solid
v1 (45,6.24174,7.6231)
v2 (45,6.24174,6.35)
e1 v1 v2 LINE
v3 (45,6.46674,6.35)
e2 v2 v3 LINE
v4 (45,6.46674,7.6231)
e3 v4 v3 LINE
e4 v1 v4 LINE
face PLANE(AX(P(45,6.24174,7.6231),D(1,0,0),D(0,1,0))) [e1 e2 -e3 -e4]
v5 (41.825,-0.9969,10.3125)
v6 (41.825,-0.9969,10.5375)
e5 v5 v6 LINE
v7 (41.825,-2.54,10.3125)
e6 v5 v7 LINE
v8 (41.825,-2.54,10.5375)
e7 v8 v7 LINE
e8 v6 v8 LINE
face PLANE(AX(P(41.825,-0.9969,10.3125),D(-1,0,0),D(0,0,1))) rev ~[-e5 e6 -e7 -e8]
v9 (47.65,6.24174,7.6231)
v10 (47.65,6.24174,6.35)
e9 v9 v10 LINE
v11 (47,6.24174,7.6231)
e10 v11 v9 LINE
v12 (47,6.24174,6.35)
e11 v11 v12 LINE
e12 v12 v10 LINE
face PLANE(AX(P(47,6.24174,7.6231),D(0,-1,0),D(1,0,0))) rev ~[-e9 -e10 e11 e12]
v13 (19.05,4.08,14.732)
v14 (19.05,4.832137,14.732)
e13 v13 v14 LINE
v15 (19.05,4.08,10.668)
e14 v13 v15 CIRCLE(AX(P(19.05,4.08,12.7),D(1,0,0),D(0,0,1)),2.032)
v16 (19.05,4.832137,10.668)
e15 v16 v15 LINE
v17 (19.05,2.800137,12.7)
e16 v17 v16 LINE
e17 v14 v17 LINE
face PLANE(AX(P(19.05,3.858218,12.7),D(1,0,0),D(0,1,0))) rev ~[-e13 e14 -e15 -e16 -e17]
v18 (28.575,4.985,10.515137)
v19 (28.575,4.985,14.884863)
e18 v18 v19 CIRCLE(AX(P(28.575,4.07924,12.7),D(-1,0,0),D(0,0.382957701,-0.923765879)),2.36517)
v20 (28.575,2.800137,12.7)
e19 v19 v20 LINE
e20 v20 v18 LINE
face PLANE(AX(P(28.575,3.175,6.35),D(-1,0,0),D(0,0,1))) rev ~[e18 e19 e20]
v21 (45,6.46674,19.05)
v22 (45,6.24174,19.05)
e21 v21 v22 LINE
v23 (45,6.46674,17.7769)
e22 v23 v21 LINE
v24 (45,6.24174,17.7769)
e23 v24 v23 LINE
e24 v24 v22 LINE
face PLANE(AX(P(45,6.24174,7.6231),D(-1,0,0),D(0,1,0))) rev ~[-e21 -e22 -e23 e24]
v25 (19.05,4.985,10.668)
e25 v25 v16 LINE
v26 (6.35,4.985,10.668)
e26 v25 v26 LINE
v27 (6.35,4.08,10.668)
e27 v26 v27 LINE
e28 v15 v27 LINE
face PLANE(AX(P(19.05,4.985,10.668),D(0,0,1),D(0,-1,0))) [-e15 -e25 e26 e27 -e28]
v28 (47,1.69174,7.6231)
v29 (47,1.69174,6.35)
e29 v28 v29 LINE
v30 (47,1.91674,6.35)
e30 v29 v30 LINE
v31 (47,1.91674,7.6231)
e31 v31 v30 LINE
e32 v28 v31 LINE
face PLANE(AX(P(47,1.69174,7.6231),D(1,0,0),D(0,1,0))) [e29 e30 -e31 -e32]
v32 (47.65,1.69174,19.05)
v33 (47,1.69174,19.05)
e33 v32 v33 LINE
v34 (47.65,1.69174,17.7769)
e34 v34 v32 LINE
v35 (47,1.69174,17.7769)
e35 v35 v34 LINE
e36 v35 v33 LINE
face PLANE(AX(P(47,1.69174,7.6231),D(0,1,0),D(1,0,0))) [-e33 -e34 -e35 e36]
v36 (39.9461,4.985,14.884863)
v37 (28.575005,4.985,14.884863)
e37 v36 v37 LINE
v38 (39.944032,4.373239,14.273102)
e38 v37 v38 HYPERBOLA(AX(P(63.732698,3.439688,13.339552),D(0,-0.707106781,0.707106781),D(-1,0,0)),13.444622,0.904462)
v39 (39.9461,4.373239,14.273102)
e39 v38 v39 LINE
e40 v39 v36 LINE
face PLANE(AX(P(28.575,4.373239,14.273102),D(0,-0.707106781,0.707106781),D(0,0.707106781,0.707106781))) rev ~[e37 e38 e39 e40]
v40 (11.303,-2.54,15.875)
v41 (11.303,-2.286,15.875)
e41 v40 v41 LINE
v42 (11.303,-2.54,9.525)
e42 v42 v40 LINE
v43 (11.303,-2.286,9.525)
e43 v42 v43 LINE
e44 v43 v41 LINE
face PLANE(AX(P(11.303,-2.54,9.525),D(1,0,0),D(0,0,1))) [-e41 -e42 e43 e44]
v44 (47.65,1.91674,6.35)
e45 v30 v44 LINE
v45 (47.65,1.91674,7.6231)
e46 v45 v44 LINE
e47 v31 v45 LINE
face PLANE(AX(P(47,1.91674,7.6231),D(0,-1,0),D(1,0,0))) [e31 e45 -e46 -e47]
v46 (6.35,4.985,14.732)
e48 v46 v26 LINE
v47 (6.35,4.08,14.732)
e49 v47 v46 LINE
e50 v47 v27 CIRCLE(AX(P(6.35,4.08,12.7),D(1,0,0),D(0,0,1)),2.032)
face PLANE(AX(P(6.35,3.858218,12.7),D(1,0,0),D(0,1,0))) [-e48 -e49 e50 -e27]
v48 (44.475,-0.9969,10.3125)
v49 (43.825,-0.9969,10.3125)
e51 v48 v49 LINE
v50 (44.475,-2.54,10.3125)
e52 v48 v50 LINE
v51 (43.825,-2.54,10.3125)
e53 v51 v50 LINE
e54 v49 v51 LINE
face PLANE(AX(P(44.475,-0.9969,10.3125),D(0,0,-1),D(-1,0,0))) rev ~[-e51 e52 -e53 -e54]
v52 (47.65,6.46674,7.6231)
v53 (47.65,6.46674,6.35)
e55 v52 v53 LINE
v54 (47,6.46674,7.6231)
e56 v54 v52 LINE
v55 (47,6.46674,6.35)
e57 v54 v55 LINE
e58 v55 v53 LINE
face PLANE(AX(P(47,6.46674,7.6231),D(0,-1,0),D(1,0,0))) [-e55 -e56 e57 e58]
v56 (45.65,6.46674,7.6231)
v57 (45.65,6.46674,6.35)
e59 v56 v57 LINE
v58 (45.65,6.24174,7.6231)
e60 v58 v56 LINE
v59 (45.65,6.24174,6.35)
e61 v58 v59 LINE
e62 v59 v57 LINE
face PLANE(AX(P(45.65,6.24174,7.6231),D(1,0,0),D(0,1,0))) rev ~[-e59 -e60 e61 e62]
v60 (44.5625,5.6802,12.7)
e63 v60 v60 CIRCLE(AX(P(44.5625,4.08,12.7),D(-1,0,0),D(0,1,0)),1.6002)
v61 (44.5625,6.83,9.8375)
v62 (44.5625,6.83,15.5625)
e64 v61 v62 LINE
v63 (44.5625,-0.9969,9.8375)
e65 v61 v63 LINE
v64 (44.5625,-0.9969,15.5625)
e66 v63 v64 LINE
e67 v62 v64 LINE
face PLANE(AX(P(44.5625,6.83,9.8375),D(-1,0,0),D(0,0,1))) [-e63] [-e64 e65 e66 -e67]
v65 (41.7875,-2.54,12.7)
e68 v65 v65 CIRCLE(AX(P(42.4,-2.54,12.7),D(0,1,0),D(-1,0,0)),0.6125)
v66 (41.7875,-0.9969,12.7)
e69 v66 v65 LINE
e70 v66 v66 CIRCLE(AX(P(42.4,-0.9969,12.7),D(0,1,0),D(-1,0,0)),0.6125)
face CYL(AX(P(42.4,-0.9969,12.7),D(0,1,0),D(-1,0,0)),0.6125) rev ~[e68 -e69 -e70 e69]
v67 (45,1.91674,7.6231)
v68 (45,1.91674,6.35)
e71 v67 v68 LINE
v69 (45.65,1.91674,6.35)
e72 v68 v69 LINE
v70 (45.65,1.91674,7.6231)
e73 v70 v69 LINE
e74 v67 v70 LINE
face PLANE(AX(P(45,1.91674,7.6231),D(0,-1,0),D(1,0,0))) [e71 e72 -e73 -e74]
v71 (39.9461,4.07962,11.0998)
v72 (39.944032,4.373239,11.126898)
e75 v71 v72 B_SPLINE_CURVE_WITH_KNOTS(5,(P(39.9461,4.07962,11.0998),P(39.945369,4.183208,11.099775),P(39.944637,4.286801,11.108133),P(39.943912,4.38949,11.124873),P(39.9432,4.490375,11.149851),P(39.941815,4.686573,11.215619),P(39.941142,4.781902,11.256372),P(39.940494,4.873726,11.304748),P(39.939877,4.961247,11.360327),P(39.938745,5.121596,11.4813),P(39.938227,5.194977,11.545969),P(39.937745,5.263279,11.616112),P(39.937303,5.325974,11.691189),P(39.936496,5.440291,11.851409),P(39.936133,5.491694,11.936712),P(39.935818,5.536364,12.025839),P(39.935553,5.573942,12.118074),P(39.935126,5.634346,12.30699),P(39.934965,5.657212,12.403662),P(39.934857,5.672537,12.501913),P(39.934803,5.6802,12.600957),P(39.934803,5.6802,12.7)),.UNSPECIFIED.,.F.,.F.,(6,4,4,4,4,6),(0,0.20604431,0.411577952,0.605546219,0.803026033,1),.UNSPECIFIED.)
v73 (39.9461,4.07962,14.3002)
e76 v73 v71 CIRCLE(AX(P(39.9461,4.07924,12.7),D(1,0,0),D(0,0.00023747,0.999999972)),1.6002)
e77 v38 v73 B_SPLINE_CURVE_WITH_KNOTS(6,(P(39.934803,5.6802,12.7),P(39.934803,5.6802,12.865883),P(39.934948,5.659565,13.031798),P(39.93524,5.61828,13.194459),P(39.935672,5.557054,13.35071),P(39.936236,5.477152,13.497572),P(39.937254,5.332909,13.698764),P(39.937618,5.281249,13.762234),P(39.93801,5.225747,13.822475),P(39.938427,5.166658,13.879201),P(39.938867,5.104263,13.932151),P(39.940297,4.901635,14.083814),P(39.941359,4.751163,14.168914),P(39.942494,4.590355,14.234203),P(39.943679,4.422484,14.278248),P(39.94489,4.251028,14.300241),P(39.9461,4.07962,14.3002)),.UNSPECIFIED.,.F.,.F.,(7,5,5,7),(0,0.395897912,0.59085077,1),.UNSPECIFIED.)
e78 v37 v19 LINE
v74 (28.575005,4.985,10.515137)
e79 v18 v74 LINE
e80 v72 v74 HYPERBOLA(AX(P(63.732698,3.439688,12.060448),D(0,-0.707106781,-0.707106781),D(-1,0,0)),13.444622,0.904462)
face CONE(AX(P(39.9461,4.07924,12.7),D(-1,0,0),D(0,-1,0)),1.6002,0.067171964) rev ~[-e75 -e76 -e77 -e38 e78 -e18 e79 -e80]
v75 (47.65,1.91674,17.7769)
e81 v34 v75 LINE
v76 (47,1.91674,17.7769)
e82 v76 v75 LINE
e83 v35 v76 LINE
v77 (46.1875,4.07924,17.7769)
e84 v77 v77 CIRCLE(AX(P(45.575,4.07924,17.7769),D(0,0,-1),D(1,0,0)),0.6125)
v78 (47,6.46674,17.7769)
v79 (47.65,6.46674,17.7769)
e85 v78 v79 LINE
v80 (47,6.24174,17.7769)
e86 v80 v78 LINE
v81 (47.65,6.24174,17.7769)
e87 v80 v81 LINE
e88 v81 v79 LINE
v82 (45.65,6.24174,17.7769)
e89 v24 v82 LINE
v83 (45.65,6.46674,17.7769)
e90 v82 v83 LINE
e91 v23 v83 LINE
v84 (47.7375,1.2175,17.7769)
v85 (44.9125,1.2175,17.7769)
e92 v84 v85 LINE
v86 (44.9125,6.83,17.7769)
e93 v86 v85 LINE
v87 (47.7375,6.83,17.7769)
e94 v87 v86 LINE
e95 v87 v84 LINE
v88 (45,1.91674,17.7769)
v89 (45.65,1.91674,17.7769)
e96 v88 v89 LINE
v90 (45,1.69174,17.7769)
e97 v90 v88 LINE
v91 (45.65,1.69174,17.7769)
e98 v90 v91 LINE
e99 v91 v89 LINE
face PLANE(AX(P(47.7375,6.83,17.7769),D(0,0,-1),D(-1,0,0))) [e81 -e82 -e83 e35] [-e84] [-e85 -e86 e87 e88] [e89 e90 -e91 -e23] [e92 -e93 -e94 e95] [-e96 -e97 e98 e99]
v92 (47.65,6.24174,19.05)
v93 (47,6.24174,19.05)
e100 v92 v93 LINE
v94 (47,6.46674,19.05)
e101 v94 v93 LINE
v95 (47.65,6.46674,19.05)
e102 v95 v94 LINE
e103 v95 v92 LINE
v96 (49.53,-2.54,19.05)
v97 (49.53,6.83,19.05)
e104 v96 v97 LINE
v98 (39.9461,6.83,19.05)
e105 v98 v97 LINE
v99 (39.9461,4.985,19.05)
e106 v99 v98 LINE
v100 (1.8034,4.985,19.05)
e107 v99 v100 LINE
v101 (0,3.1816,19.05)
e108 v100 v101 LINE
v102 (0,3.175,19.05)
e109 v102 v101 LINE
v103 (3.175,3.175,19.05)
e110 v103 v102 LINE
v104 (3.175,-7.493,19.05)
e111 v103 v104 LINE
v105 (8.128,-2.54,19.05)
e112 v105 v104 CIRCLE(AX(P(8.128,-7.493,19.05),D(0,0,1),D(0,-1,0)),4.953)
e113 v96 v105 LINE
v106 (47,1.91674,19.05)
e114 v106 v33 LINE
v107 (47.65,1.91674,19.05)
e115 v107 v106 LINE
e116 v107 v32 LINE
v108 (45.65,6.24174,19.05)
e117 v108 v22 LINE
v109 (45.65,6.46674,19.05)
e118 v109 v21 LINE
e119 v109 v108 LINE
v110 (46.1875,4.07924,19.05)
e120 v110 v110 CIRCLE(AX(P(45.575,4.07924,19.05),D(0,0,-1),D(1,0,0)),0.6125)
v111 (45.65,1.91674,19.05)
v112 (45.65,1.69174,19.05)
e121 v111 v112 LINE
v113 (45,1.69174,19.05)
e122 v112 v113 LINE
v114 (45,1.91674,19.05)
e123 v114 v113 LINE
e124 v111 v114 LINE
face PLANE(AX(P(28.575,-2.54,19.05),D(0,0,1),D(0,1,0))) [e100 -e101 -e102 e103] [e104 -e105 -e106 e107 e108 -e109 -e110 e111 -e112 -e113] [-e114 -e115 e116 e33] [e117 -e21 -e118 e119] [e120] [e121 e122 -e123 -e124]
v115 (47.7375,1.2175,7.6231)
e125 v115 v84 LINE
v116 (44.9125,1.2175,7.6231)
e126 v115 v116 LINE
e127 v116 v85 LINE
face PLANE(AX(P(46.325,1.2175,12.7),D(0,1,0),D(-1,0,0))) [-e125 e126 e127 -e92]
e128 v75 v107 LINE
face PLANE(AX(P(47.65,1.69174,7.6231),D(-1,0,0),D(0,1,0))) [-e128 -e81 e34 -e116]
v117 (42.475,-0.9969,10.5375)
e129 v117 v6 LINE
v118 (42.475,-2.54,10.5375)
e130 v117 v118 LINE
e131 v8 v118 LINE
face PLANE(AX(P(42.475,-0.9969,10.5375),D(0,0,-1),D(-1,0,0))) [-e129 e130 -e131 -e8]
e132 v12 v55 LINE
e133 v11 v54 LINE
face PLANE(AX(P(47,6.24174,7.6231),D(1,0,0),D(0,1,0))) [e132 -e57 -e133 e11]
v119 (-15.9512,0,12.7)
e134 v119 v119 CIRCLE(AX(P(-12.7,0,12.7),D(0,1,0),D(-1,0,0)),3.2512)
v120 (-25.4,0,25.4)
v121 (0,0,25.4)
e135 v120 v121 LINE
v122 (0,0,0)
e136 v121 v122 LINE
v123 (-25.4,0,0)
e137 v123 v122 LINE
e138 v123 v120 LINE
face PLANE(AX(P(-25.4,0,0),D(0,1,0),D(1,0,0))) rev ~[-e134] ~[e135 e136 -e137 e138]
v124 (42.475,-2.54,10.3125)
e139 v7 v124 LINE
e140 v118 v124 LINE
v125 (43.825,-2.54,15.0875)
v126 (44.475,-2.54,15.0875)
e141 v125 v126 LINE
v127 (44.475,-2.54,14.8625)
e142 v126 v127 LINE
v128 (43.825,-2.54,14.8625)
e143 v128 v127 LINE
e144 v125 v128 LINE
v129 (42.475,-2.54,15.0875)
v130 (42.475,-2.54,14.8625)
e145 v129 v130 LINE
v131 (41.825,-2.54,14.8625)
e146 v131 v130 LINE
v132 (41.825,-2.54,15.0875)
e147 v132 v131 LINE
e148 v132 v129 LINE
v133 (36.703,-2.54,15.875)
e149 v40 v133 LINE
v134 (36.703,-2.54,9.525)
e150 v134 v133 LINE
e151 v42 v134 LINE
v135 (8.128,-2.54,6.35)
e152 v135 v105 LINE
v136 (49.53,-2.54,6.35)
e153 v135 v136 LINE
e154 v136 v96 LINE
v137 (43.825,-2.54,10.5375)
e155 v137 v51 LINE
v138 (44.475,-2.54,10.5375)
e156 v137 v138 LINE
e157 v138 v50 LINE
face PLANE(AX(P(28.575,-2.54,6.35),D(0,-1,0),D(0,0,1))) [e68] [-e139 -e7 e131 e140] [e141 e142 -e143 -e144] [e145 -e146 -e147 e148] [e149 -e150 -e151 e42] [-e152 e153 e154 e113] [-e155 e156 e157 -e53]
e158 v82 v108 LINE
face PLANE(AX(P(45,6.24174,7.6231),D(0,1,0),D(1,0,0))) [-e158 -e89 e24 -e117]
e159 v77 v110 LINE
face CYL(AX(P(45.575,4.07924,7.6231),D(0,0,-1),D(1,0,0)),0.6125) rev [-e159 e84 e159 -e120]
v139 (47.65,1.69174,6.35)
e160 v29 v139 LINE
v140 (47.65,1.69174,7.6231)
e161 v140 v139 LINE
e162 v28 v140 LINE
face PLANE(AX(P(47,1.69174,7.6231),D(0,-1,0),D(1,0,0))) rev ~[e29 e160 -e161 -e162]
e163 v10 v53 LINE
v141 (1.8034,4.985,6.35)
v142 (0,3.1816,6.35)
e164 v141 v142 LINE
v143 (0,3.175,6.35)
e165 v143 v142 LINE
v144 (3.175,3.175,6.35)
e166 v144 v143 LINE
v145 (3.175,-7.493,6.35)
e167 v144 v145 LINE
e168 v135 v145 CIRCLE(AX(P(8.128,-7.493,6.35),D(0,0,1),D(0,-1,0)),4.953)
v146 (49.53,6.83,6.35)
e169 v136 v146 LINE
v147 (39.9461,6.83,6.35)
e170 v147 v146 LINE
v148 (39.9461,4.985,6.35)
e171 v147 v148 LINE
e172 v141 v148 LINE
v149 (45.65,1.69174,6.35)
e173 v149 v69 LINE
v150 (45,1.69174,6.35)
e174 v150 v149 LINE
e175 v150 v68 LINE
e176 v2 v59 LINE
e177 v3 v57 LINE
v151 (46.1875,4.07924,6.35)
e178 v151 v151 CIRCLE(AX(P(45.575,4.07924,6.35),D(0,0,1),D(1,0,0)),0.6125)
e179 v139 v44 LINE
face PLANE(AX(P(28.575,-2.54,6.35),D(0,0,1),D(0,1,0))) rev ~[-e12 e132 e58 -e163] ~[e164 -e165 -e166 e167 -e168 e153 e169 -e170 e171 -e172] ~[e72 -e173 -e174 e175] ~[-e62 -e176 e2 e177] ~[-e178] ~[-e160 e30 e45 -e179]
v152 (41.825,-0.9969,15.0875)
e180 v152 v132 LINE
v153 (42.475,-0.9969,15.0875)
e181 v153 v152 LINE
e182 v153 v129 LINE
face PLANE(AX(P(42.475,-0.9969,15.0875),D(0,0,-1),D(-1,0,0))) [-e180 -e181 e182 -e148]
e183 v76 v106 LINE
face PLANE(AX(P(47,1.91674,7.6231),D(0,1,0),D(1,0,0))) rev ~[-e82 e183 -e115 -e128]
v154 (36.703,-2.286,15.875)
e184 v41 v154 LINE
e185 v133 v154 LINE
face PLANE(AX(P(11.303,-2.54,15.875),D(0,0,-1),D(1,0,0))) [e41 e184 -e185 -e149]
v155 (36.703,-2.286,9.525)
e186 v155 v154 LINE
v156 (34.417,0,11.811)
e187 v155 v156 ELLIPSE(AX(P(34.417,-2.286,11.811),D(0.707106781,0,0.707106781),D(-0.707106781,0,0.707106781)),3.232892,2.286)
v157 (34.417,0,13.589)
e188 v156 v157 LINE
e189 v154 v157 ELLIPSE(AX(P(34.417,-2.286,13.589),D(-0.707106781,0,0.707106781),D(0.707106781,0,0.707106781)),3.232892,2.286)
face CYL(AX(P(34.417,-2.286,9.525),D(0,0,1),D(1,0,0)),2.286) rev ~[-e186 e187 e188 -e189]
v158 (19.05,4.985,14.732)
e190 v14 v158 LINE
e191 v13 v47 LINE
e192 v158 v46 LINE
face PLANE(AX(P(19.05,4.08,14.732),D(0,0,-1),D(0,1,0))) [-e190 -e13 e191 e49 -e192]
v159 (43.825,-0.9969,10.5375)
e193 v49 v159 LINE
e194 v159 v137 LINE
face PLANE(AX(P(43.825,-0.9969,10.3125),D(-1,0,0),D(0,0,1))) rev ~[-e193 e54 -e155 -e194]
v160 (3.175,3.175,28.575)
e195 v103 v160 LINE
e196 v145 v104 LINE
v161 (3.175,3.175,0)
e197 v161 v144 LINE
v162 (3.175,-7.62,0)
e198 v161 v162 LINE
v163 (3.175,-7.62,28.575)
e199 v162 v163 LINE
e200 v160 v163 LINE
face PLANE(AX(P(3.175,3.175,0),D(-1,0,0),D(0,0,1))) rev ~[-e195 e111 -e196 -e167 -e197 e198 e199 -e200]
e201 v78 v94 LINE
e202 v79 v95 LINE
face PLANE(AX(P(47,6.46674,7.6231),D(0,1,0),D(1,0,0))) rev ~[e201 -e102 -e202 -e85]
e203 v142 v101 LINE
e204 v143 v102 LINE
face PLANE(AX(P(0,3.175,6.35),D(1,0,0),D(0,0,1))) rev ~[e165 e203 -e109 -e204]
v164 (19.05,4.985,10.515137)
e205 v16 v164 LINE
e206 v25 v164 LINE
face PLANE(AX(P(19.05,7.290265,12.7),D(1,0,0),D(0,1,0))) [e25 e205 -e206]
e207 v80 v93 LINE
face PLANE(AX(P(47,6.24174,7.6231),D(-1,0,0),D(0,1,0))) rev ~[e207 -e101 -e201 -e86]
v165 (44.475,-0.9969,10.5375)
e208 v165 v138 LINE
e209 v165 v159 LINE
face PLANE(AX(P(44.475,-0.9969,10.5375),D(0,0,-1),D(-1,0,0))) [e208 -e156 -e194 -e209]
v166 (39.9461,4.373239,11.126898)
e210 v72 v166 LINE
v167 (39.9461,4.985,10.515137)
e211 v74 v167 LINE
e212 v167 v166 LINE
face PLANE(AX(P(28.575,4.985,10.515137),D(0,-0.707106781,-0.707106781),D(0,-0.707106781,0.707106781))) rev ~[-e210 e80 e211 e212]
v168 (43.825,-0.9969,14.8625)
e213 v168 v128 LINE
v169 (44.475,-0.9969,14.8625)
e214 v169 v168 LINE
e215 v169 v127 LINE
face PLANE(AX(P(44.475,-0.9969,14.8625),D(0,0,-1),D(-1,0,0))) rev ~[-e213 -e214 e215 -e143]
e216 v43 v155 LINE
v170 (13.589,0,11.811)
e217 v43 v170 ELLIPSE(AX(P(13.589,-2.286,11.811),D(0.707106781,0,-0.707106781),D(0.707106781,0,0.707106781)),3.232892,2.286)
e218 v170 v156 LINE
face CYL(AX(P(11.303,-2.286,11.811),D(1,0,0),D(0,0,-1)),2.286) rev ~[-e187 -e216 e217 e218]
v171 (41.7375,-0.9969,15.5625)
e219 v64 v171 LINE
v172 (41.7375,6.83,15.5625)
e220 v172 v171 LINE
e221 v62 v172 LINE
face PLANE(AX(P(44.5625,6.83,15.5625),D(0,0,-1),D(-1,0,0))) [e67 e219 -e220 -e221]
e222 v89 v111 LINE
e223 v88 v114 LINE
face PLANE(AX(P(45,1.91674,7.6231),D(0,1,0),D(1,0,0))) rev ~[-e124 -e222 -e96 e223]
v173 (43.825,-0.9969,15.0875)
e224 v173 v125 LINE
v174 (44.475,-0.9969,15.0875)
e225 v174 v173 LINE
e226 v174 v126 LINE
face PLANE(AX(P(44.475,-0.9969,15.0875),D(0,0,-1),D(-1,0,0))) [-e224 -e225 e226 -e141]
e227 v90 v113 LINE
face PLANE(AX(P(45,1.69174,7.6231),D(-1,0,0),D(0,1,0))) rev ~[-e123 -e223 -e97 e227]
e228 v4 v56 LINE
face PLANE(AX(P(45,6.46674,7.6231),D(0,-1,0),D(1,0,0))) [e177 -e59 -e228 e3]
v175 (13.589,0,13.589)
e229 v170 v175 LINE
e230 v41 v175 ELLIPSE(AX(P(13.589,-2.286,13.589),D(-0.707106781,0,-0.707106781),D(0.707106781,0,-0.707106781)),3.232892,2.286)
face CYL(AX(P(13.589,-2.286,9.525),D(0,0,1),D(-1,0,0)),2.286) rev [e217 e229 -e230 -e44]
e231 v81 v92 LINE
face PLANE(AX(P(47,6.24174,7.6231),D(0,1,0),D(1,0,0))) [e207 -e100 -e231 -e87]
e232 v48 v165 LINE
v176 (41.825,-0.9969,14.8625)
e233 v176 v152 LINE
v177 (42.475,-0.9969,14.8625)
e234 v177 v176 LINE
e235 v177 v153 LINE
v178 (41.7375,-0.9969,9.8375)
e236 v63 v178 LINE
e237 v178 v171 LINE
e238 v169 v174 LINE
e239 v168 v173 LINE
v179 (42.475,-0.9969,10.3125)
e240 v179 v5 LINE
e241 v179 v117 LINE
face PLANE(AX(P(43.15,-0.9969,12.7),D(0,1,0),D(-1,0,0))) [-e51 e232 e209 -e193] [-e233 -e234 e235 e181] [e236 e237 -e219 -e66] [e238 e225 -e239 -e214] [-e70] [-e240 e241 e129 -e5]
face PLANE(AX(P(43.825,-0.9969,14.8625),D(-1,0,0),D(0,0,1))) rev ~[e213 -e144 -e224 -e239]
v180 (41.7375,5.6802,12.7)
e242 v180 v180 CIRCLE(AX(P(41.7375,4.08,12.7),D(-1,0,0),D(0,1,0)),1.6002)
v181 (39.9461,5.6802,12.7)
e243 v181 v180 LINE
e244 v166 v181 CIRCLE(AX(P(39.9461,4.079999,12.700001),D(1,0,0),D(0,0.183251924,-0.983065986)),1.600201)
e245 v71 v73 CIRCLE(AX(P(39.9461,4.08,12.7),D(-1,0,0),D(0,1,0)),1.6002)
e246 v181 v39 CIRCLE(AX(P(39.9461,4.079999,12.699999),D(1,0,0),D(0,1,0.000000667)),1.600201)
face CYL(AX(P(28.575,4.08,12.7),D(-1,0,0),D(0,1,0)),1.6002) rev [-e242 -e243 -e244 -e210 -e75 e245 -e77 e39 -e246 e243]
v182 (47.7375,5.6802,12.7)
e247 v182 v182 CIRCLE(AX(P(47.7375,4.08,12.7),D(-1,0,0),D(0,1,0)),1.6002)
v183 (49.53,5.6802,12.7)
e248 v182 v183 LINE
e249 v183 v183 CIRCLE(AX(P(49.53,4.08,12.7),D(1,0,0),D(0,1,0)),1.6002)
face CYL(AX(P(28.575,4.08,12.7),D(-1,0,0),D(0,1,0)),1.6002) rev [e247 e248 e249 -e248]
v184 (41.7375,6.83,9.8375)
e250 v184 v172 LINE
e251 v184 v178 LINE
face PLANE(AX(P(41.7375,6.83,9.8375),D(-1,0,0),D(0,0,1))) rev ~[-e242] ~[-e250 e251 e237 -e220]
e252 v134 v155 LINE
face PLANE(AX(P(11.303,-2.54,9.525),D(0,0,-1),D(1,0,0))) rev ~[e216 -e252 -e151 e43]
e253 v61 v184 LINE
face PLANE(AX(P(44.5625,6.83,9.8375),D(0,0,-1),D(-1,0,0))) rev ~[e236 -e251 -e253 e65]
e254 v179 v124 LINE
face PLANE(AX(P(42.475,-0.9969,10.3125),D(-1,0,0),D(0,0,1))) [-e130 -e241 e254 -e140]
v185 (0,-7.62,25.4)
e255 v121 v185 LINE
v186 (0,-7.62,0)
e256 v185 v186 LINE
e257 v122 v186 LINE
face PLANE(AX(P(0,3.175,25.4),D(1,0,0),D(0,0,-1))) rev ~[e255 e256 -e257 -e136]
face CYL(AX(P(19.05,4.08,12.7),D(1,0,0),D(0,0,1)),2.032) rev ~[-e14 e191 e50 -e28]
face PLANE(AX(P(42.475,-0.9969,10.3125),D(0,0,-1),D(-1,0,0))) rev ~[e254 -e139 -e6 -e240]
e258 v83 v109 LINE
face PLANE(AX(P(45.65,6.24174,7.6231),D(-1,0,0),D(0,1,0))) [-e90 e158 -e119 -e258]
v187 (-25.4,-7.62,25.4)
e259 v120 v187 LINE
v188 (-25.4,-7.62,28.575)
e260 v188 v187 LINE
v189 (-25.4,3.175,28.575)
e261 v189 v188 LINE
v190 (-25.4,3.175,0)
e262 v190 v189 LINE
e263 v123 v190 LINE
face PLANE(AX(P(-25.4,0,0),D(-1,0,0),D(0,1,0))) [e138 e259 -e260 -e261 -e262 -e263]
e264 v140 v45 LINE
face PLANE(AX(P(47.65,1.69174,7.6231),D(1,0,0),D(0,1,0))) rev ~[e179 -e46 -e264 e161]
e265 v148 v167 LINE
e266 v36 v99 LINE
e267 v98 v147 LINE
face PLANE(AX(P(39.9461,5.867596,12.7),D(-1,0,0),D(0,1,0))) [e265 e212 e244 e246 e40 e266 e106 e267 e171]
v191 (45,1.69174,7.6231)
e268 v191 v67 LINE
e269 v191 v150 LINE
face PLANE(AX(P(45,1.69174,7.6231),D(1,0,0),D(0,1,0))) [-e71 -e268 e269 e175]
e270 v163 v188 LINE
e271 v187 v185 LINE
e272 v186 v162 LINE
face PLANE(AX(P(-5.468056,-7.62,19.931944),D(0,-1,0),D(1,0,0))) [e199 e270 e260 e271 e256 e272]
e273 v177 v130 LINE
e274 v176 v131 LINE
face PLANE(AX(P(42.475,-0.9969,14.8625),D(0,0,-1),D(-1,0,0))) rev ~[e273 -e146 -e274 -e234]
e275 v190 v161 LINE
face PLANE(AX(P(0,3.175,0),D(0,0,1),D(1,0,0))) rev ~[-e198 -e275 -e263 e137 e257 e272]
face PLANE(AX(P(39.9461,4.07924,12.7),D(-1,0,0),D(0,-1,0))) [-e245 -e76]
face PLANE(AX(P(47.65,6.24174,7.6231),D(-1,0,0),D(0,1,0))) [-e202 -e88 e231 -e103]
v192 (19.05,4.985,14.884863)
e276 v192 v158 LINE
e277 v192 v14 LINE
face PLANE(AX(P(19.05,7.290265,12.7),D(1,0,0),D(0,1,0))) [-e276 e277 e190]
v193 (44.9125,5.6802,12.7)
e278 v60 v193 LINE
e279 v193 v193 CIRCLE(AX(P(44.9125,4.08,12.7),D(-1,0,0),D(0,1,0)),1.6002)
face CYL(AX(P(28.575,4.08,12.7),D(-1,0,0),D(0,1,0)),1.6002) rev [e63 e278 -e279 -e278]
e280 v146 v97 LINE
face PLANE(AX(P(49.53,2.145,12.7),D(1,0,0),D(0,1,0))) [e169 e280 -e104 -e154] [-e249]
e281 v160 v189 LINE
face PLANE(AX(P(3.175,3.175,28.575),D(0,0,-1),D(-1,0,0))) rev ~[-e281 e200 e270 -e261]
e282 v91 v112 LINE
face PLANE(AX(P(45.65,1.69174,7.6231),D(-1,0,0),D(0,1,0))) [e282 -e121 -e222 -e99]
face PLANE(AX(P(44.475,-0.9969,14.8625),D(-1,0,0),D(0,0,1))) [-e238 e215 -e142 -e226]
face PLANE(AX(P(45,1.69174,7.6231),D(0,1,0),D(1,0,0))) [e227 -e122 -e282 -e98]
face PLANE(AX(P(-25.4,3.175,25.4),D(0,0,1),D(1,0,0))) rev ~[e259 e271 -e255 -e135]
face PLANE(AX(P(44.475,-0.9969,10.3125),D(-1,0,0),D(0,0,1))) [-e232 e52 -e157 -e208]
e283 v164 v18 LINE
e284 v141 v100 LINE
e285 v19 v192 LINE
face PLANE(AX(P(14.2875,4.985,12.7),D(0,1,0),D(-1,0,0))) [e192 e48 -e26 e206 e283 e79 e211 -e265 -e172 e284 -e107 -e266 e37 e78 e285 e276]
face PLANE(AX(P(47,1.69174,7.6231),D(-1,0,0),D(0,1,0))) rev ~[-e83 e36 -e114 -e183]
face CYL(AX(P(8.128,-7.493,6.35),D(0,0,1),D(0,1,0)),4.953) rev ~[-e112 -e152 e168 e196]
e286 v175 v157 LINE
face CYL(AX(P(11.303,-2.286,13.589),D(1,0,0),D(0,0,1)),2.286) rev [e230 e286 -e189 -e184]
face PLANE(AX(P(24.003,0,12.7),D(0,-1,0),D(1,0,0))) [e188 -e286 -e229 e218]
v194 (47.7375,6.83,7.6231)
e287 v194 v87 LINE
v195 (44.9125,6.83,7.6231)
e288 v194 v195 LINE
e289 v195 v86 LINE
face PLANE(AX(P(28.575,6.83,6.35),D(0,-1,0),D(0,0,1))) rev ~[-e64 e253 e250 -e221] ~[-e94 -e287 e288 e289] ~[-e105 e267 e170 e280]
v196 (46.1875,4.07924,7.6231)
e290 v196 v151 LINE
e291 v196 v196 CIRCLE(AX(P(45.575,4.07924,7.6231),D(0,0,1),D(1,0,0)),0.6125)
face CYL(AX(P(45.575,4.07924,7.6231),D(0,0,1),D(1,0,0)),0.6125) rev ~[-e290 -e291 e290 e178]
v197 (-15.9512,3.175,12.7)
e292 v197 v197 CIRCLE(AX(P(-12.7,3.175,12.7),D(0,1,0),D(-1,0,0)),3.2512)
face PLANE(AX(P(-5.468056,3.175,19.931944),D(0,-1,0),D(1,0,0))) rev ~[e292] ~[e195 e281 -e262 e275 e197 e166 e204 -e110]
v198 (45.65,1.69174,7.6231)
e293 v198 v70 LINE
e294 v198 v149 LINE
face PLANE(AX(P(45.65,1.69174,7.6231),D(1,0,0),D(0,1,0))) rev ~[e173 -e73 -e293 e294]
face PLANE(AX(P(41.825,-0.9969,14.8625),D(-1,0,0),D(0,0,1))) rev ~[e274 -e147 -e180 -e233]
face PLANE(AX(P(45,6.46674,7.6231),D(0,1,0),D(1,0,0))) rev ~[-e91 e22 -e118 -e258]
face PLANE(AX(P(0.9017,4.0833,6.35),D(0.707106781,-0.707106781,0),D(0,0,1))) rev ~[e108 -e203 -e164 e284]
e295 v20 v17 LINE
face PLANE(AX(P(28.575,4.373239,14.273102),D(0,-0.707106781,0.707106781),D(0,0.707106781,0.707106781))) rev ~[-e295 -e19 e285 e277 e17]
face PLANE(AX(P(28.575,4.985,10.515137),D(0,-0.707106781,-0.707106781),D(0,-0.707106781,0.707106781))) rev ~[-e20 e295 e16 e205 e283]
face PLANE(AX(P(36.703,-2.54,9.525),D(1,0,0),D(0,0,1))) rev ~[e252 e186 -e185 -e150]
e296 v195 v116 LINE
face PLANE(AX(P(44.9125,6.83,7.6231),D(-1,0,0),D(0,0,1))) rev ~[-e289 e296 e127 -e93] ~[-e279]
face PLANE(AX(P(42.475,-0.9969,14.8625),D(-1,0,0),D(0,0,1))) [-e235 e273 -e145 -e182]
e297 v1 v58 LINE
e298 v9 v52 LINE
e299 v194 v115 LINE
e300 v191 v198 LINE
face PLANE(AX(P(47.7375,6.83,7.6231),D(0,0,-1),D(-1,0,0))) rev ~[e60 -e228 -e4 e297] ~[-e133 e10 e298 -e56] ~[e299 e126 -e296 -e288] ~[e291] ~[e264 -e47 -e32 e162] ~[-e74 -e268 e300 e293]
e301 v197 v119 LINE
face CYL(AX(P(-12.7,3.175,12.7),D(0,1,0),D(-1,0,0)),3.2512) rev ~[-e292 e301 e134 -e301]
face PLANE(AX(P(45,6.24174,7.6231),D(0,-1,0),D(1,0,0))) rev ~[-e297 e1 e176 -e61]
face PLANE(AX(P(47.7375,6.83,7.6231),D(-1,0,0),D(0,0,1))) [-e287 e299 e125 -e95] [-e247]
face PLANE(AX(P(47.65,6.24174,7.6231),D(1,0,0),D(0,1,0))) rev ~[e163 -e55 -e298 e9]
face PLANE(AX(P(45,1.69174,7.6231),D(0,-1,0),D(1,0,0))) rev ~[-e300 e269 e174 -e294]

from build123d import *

# Parameters (mm, degrees)
SKETCH_W             = 25.4
SKETCH_H             = 3.175
PAD_DEPTH            = 25.4
SKETCH001_W          = 28.575
SKETCH001_H          = 12.7
PAD001_DEPTH         = 1.81
PAD001_DEPTH_BACK    = 5.715
POCKET_DEPTH         = 9.525
POCKET001_DEPTH      = 12.7
CHAMFER_SIZE         = 1.8034
SKETCH004_R          = 3.2512
POCKET002_DEPTH      = 5.716
PAD002_DEPTH         = 10.795
FILLET_R             = 4.953
SKETCH013_W          = 9.37
SKETCH013_H          = 12.7
SKETCH013_R          = 1.6002
PAD008_DEPTH         = 20.955
POCKET003_DEPTH      = 11.3711
SKETCH014_W          = 2.825
SKETCH014_H          = 10.1538
POCKET004_DEPTH      = 5.6125
SKETCH015_W          = 2.825
SKETCH015_H          = 5.725
POCKET005_DEPTH      = 7.8269
SKETCH016_R          = 0.6125
SKETCH016_W          = 0.65
SKETCH016_H          = 0.225
POCKET006_DEPTH      = 6.6241
SKETCH017_R          = 0.6125
SKETCH017_W          = 0.65
SKETCH017_H          = 0.225
POCKET007_DEPTH      = 7.6241
POCKET007_DEPTH_BACK = 20.9529
SKETCH018_R          = 1.6002
SKETCH019_R          = 2.36517
SKETCH020_W          = 25.4
SKETCH020_H          = 6.35
POCKET008_DEPTH      = 2.54
FILLET001_R          = 2.286


with BuildPart() as part:
    # Sketch → Pad (new body)
    with BuildSketch(Plane.XY):
        with Locations((-12.7, 1.5875)):
            Rectangle(SKETCH_W, SKETCH_H)
    extrude(amount=PAD_DEPTH)

    # Sketch001 (on Face1 of Pad) → Pad001 (join, two sides)
    with BuildSketch(Plane(origin=(0, 3.175, 0), x_dir=(-1, 0, 0), z_dir=(0, 1, 0))) as pad001_sk:
        with Locations((-14.2875, 12.7)):
            Rectangle(SKETCH001_W, SKETCH001_H)
    extrude(amount=PAD001_DEPTH)
    extrude(pad001_sk.sketch, amount=-PAD001_DEPTH_BACK)

    # Sketch002 (on Face13 of Pad001) → Pocket (cut)
    with BuildSketch(Plane.YZ.offset(28.575)):
        Polygon((9.150137, 19.05), (2.800137, 12.7), (9.150137, 6.35), align=None)
    extrude(amount=-POCKET_DEPTH, mode=Mode.SUBTRACT)

    # Sketch003 (on Face16 of Pocket) → Pocket001 (cut)
    with BuildSketch(Plane.YZ.offset(19.05)):
        with BuildLine():
            ThreePointArc((4.08, 14.732), (2.048, 12.7), (4.08, 10.668))
            Line((4.985, 10.668), (4.08, 10.668))
            Line((4.985, 14.732), (4.985, 10.668))
            Line((4.08, 14.732), (4.985, 14.732))
        make_face()
    extrude(amount=-POCKET001_DEPTH, mode=Mode.SUBTRACT)

    # Chamfer
    chamfer_edges = [part.edges().sort_by_distance(p)[0] for p in [
        (0, 4.985, 12.7),
    ]]
    chamfer(chamfer_edges, length=CHAMFER_SIZE)

    # Sketch004 (on Face4 of Chamfer) → Pocket002 (cut, through all)
    with BuildSketch(Plane(origin=(0, 3.175, 0), x_dir=(-1, 0, 0), z_dir=(0, 1, 0))):
        with Locations((12.7, 12.7)):
            Circle(SKETCH004_R)
    extrude(amount=-POCKET002_DEPTH, mode=Mode.SUBTRACT)

    # Sketch006 (on Face4 of Pocket002) → Pad002 (join)
    with BuildSketch(Plane(origin=(0, 3.175, 0), x_dir=(-1, 0, 0), z_dir=(0, 1, 0))):
        Polygon((0, 0), (-3.175, 0), (-3.175, 28.575), (25.4, 28.575), (25.4, 25.4), (0, 25.4), align=None)
    extrude(amount=-PAD002_DEPTH)

    # Fillet
    fillet_edges = [part.edges().sort_by_distance(p)[0] for p in [
        (3.175, -2.54, 12.7),
    ]]
    fillet(fillet_edges, radius=FILLET_R)

    # Sketch013 (on Face4 of Fillet) → Pad008 (join)
    with BuildSketch(Plane.YZ.offset(28.575)):
        with Locations((2.145, 12.7)):
            Rectangle(SKETCH013_W, SKETCH013_H)
        with Locations((4.08, 12.7)):
            Circle(SKETCH013_R, mode=Mode.SUBTRACT)
    extrude(amount=PAD008_DEPTH)

    # Pad008 Face13 → Pocket003 (cut)
    with BuildSketch(Plane(origin=(28.575, 5.919165, 12.7), x_dir=(0, 1, 0), z_dir=(-1, 0, 0))):
        with BuildLine():
            Line((-0.934165, -2.184863), (-0.934165, -6.35))
            Line((-0.934165, -6.35), (0.910835, -6.35))
            Line((0.910835, -6.35), (0.910835, 6.35))
            Line((0.910835, 6.35), (-0.934165, 6.35))
            Line((-0.934165, 6.35), (-0.934165, 2.184863))
            Line((-0.934165, 2.184863), (-1.545926, 1.573102))
            ThreePointArc((-1.545926, 1.573102), (-0.608336, 1.022594), (-0.238965, 0))
            ThreePointArc((-0.238965, 0), (-0.608336, -1.022594), (-1.545926, -1.573102))
            Line((-1.545926, -1.573102), (-0.934165, -2.184863))
        make_face()
    extrude(amount=-POCKET003_DEPTH, mode=Mode.SUBTRACT)

    # Sketch014 (on Face15 of Pocket003) → Pocket004 (cut)
    with BuildSketch(Plane(origin=(0, 6.83, 0), x_dir=(-1, 0, 0), z_dir=(0, 1, 0))):
        with Locations((-46.325, 12.7)):
            Rectangle(SKETCH014_W, SKETCH014_H)
    extrude(amount=-POCKET004_DEPTH, mode=Mode.SUBTRACT)

    # Sketch015 (on Face15 of Pocket004) → Pocket005 (cut)
    with BuildSketch(Plane(origin=(0, 6.83, 0), x_dir=(-1, 0, 0), z_dir=(0, 1, 0))):
        with Locations((-43.15, 12.7)):
            Rectangle(SKETCH015_W, SKETCH015_H)
    extrude(amount=-POCKET005_DEPTH, mode=Mode.SUBTRACT)

    # Sketch016 (on Face53 of Pocket005) → Pocket006 (cut, through all)
    with BuildSketch(Plane(origin=(0, -0.9969, 0), x_dir=(-1, 0, 0), z_dir=(0, 1, 0))):
        with Locations((-42.4, 12.7)):
            Circle(SKETCH016_R)
        with Locations((-44.15, 14.975)):
            Rectangle(SKETCH016_W, SKETCH016_H)
        with Locations((-44.15, 10.425)):
            Rectangle(SKETCH016_W, SKETCH016_H)
        with Locations((-42.15, 14.975)):
            Rectangle(SKETCH016_W, SKETCH016_H)
        with Locations((-42.15, 10.425)):
            Rectangle(SKETCH016_W, SKETCH016_H)
    extrude(amount=-POCKET006_DEPTH, mode=Mode.SUBTRACT)

    # Sketch017 (on Face52 of Pocket006) → Pocket007 (cut, two sides)
    with BuildSketch(Plane.XY.offset(7.6231)) as pocket007_sk:
        with Locations((45.575, 4.07924)):
            Circle(SKETCH017_R)
        with Locations((45.325, 6.35424)):
            Rectangle(SKETCH017_W, SKETCH017_H)
        with Locations((45.325, 1.80424)):
            Rectangle(SKETCH017_W, SKETCH017_H)
        with Locations((47.325, 6.35424)):
            Rectangle(SKETCH017_W, SKETCH017_H)
        with Locations((47.325, 1.80424)):
            Rectangle(SKETCH017_W, SKETCH017_H)
    extrude(amount=-POCKET007_DEPTH, mode=Mode.SUBTRACT)
    extrude(pocket007_sk.sketch, amount=POCKET007_DEPTH_BACK, mode=Mode.SUBTRACT)

    # Sketch018 (on Face12 of Pocket007) → SubtractiveLoft section 0
    with BuildSketch(Plane(origin=(39.9461, 0, 0), x_dir=(0, -1, 0), z_dir=(-1, 0, 0))):
        with Locations((-4.07924, 12.7)):
            Circle(SKETCH018_R)
    # Sketch019 (on Face80 of Pocket007) → SubtractiveLoft section 1
    with BuildSketch(Plane.YZ.offset(28.575)):
        with Locations((4.07924, 12.7)):
            Circle(SKETCH019_R)
    loft(mode=Mode.SUBTRACT)

    # Sketch020 (on Face2 of SubtractiveLoft) → Pocket008 (cut)
    with BuildSketch(Plane.XZ.offset(2.54)):
        with Locations((24.003, 12.7)):
            Rectangle(SKETCH020_W, SKETCH020_H)
    extrude(amount=-POCKET008_DEPTH, mode=Mode.SUBTRACT)

    # Fillet001
    fillet001_edges = [part.edges().sort_by_distance(p)[0] for p in [
        (24.003, 0, 15.875),
        (36.703, 0, 12.7),
        (24.003, 0, 9.525),
        (11.303, 0, 12.7),
    ]]
    fillet(fillet001_edges, radius=FILLET001_R)


solid = part.part
